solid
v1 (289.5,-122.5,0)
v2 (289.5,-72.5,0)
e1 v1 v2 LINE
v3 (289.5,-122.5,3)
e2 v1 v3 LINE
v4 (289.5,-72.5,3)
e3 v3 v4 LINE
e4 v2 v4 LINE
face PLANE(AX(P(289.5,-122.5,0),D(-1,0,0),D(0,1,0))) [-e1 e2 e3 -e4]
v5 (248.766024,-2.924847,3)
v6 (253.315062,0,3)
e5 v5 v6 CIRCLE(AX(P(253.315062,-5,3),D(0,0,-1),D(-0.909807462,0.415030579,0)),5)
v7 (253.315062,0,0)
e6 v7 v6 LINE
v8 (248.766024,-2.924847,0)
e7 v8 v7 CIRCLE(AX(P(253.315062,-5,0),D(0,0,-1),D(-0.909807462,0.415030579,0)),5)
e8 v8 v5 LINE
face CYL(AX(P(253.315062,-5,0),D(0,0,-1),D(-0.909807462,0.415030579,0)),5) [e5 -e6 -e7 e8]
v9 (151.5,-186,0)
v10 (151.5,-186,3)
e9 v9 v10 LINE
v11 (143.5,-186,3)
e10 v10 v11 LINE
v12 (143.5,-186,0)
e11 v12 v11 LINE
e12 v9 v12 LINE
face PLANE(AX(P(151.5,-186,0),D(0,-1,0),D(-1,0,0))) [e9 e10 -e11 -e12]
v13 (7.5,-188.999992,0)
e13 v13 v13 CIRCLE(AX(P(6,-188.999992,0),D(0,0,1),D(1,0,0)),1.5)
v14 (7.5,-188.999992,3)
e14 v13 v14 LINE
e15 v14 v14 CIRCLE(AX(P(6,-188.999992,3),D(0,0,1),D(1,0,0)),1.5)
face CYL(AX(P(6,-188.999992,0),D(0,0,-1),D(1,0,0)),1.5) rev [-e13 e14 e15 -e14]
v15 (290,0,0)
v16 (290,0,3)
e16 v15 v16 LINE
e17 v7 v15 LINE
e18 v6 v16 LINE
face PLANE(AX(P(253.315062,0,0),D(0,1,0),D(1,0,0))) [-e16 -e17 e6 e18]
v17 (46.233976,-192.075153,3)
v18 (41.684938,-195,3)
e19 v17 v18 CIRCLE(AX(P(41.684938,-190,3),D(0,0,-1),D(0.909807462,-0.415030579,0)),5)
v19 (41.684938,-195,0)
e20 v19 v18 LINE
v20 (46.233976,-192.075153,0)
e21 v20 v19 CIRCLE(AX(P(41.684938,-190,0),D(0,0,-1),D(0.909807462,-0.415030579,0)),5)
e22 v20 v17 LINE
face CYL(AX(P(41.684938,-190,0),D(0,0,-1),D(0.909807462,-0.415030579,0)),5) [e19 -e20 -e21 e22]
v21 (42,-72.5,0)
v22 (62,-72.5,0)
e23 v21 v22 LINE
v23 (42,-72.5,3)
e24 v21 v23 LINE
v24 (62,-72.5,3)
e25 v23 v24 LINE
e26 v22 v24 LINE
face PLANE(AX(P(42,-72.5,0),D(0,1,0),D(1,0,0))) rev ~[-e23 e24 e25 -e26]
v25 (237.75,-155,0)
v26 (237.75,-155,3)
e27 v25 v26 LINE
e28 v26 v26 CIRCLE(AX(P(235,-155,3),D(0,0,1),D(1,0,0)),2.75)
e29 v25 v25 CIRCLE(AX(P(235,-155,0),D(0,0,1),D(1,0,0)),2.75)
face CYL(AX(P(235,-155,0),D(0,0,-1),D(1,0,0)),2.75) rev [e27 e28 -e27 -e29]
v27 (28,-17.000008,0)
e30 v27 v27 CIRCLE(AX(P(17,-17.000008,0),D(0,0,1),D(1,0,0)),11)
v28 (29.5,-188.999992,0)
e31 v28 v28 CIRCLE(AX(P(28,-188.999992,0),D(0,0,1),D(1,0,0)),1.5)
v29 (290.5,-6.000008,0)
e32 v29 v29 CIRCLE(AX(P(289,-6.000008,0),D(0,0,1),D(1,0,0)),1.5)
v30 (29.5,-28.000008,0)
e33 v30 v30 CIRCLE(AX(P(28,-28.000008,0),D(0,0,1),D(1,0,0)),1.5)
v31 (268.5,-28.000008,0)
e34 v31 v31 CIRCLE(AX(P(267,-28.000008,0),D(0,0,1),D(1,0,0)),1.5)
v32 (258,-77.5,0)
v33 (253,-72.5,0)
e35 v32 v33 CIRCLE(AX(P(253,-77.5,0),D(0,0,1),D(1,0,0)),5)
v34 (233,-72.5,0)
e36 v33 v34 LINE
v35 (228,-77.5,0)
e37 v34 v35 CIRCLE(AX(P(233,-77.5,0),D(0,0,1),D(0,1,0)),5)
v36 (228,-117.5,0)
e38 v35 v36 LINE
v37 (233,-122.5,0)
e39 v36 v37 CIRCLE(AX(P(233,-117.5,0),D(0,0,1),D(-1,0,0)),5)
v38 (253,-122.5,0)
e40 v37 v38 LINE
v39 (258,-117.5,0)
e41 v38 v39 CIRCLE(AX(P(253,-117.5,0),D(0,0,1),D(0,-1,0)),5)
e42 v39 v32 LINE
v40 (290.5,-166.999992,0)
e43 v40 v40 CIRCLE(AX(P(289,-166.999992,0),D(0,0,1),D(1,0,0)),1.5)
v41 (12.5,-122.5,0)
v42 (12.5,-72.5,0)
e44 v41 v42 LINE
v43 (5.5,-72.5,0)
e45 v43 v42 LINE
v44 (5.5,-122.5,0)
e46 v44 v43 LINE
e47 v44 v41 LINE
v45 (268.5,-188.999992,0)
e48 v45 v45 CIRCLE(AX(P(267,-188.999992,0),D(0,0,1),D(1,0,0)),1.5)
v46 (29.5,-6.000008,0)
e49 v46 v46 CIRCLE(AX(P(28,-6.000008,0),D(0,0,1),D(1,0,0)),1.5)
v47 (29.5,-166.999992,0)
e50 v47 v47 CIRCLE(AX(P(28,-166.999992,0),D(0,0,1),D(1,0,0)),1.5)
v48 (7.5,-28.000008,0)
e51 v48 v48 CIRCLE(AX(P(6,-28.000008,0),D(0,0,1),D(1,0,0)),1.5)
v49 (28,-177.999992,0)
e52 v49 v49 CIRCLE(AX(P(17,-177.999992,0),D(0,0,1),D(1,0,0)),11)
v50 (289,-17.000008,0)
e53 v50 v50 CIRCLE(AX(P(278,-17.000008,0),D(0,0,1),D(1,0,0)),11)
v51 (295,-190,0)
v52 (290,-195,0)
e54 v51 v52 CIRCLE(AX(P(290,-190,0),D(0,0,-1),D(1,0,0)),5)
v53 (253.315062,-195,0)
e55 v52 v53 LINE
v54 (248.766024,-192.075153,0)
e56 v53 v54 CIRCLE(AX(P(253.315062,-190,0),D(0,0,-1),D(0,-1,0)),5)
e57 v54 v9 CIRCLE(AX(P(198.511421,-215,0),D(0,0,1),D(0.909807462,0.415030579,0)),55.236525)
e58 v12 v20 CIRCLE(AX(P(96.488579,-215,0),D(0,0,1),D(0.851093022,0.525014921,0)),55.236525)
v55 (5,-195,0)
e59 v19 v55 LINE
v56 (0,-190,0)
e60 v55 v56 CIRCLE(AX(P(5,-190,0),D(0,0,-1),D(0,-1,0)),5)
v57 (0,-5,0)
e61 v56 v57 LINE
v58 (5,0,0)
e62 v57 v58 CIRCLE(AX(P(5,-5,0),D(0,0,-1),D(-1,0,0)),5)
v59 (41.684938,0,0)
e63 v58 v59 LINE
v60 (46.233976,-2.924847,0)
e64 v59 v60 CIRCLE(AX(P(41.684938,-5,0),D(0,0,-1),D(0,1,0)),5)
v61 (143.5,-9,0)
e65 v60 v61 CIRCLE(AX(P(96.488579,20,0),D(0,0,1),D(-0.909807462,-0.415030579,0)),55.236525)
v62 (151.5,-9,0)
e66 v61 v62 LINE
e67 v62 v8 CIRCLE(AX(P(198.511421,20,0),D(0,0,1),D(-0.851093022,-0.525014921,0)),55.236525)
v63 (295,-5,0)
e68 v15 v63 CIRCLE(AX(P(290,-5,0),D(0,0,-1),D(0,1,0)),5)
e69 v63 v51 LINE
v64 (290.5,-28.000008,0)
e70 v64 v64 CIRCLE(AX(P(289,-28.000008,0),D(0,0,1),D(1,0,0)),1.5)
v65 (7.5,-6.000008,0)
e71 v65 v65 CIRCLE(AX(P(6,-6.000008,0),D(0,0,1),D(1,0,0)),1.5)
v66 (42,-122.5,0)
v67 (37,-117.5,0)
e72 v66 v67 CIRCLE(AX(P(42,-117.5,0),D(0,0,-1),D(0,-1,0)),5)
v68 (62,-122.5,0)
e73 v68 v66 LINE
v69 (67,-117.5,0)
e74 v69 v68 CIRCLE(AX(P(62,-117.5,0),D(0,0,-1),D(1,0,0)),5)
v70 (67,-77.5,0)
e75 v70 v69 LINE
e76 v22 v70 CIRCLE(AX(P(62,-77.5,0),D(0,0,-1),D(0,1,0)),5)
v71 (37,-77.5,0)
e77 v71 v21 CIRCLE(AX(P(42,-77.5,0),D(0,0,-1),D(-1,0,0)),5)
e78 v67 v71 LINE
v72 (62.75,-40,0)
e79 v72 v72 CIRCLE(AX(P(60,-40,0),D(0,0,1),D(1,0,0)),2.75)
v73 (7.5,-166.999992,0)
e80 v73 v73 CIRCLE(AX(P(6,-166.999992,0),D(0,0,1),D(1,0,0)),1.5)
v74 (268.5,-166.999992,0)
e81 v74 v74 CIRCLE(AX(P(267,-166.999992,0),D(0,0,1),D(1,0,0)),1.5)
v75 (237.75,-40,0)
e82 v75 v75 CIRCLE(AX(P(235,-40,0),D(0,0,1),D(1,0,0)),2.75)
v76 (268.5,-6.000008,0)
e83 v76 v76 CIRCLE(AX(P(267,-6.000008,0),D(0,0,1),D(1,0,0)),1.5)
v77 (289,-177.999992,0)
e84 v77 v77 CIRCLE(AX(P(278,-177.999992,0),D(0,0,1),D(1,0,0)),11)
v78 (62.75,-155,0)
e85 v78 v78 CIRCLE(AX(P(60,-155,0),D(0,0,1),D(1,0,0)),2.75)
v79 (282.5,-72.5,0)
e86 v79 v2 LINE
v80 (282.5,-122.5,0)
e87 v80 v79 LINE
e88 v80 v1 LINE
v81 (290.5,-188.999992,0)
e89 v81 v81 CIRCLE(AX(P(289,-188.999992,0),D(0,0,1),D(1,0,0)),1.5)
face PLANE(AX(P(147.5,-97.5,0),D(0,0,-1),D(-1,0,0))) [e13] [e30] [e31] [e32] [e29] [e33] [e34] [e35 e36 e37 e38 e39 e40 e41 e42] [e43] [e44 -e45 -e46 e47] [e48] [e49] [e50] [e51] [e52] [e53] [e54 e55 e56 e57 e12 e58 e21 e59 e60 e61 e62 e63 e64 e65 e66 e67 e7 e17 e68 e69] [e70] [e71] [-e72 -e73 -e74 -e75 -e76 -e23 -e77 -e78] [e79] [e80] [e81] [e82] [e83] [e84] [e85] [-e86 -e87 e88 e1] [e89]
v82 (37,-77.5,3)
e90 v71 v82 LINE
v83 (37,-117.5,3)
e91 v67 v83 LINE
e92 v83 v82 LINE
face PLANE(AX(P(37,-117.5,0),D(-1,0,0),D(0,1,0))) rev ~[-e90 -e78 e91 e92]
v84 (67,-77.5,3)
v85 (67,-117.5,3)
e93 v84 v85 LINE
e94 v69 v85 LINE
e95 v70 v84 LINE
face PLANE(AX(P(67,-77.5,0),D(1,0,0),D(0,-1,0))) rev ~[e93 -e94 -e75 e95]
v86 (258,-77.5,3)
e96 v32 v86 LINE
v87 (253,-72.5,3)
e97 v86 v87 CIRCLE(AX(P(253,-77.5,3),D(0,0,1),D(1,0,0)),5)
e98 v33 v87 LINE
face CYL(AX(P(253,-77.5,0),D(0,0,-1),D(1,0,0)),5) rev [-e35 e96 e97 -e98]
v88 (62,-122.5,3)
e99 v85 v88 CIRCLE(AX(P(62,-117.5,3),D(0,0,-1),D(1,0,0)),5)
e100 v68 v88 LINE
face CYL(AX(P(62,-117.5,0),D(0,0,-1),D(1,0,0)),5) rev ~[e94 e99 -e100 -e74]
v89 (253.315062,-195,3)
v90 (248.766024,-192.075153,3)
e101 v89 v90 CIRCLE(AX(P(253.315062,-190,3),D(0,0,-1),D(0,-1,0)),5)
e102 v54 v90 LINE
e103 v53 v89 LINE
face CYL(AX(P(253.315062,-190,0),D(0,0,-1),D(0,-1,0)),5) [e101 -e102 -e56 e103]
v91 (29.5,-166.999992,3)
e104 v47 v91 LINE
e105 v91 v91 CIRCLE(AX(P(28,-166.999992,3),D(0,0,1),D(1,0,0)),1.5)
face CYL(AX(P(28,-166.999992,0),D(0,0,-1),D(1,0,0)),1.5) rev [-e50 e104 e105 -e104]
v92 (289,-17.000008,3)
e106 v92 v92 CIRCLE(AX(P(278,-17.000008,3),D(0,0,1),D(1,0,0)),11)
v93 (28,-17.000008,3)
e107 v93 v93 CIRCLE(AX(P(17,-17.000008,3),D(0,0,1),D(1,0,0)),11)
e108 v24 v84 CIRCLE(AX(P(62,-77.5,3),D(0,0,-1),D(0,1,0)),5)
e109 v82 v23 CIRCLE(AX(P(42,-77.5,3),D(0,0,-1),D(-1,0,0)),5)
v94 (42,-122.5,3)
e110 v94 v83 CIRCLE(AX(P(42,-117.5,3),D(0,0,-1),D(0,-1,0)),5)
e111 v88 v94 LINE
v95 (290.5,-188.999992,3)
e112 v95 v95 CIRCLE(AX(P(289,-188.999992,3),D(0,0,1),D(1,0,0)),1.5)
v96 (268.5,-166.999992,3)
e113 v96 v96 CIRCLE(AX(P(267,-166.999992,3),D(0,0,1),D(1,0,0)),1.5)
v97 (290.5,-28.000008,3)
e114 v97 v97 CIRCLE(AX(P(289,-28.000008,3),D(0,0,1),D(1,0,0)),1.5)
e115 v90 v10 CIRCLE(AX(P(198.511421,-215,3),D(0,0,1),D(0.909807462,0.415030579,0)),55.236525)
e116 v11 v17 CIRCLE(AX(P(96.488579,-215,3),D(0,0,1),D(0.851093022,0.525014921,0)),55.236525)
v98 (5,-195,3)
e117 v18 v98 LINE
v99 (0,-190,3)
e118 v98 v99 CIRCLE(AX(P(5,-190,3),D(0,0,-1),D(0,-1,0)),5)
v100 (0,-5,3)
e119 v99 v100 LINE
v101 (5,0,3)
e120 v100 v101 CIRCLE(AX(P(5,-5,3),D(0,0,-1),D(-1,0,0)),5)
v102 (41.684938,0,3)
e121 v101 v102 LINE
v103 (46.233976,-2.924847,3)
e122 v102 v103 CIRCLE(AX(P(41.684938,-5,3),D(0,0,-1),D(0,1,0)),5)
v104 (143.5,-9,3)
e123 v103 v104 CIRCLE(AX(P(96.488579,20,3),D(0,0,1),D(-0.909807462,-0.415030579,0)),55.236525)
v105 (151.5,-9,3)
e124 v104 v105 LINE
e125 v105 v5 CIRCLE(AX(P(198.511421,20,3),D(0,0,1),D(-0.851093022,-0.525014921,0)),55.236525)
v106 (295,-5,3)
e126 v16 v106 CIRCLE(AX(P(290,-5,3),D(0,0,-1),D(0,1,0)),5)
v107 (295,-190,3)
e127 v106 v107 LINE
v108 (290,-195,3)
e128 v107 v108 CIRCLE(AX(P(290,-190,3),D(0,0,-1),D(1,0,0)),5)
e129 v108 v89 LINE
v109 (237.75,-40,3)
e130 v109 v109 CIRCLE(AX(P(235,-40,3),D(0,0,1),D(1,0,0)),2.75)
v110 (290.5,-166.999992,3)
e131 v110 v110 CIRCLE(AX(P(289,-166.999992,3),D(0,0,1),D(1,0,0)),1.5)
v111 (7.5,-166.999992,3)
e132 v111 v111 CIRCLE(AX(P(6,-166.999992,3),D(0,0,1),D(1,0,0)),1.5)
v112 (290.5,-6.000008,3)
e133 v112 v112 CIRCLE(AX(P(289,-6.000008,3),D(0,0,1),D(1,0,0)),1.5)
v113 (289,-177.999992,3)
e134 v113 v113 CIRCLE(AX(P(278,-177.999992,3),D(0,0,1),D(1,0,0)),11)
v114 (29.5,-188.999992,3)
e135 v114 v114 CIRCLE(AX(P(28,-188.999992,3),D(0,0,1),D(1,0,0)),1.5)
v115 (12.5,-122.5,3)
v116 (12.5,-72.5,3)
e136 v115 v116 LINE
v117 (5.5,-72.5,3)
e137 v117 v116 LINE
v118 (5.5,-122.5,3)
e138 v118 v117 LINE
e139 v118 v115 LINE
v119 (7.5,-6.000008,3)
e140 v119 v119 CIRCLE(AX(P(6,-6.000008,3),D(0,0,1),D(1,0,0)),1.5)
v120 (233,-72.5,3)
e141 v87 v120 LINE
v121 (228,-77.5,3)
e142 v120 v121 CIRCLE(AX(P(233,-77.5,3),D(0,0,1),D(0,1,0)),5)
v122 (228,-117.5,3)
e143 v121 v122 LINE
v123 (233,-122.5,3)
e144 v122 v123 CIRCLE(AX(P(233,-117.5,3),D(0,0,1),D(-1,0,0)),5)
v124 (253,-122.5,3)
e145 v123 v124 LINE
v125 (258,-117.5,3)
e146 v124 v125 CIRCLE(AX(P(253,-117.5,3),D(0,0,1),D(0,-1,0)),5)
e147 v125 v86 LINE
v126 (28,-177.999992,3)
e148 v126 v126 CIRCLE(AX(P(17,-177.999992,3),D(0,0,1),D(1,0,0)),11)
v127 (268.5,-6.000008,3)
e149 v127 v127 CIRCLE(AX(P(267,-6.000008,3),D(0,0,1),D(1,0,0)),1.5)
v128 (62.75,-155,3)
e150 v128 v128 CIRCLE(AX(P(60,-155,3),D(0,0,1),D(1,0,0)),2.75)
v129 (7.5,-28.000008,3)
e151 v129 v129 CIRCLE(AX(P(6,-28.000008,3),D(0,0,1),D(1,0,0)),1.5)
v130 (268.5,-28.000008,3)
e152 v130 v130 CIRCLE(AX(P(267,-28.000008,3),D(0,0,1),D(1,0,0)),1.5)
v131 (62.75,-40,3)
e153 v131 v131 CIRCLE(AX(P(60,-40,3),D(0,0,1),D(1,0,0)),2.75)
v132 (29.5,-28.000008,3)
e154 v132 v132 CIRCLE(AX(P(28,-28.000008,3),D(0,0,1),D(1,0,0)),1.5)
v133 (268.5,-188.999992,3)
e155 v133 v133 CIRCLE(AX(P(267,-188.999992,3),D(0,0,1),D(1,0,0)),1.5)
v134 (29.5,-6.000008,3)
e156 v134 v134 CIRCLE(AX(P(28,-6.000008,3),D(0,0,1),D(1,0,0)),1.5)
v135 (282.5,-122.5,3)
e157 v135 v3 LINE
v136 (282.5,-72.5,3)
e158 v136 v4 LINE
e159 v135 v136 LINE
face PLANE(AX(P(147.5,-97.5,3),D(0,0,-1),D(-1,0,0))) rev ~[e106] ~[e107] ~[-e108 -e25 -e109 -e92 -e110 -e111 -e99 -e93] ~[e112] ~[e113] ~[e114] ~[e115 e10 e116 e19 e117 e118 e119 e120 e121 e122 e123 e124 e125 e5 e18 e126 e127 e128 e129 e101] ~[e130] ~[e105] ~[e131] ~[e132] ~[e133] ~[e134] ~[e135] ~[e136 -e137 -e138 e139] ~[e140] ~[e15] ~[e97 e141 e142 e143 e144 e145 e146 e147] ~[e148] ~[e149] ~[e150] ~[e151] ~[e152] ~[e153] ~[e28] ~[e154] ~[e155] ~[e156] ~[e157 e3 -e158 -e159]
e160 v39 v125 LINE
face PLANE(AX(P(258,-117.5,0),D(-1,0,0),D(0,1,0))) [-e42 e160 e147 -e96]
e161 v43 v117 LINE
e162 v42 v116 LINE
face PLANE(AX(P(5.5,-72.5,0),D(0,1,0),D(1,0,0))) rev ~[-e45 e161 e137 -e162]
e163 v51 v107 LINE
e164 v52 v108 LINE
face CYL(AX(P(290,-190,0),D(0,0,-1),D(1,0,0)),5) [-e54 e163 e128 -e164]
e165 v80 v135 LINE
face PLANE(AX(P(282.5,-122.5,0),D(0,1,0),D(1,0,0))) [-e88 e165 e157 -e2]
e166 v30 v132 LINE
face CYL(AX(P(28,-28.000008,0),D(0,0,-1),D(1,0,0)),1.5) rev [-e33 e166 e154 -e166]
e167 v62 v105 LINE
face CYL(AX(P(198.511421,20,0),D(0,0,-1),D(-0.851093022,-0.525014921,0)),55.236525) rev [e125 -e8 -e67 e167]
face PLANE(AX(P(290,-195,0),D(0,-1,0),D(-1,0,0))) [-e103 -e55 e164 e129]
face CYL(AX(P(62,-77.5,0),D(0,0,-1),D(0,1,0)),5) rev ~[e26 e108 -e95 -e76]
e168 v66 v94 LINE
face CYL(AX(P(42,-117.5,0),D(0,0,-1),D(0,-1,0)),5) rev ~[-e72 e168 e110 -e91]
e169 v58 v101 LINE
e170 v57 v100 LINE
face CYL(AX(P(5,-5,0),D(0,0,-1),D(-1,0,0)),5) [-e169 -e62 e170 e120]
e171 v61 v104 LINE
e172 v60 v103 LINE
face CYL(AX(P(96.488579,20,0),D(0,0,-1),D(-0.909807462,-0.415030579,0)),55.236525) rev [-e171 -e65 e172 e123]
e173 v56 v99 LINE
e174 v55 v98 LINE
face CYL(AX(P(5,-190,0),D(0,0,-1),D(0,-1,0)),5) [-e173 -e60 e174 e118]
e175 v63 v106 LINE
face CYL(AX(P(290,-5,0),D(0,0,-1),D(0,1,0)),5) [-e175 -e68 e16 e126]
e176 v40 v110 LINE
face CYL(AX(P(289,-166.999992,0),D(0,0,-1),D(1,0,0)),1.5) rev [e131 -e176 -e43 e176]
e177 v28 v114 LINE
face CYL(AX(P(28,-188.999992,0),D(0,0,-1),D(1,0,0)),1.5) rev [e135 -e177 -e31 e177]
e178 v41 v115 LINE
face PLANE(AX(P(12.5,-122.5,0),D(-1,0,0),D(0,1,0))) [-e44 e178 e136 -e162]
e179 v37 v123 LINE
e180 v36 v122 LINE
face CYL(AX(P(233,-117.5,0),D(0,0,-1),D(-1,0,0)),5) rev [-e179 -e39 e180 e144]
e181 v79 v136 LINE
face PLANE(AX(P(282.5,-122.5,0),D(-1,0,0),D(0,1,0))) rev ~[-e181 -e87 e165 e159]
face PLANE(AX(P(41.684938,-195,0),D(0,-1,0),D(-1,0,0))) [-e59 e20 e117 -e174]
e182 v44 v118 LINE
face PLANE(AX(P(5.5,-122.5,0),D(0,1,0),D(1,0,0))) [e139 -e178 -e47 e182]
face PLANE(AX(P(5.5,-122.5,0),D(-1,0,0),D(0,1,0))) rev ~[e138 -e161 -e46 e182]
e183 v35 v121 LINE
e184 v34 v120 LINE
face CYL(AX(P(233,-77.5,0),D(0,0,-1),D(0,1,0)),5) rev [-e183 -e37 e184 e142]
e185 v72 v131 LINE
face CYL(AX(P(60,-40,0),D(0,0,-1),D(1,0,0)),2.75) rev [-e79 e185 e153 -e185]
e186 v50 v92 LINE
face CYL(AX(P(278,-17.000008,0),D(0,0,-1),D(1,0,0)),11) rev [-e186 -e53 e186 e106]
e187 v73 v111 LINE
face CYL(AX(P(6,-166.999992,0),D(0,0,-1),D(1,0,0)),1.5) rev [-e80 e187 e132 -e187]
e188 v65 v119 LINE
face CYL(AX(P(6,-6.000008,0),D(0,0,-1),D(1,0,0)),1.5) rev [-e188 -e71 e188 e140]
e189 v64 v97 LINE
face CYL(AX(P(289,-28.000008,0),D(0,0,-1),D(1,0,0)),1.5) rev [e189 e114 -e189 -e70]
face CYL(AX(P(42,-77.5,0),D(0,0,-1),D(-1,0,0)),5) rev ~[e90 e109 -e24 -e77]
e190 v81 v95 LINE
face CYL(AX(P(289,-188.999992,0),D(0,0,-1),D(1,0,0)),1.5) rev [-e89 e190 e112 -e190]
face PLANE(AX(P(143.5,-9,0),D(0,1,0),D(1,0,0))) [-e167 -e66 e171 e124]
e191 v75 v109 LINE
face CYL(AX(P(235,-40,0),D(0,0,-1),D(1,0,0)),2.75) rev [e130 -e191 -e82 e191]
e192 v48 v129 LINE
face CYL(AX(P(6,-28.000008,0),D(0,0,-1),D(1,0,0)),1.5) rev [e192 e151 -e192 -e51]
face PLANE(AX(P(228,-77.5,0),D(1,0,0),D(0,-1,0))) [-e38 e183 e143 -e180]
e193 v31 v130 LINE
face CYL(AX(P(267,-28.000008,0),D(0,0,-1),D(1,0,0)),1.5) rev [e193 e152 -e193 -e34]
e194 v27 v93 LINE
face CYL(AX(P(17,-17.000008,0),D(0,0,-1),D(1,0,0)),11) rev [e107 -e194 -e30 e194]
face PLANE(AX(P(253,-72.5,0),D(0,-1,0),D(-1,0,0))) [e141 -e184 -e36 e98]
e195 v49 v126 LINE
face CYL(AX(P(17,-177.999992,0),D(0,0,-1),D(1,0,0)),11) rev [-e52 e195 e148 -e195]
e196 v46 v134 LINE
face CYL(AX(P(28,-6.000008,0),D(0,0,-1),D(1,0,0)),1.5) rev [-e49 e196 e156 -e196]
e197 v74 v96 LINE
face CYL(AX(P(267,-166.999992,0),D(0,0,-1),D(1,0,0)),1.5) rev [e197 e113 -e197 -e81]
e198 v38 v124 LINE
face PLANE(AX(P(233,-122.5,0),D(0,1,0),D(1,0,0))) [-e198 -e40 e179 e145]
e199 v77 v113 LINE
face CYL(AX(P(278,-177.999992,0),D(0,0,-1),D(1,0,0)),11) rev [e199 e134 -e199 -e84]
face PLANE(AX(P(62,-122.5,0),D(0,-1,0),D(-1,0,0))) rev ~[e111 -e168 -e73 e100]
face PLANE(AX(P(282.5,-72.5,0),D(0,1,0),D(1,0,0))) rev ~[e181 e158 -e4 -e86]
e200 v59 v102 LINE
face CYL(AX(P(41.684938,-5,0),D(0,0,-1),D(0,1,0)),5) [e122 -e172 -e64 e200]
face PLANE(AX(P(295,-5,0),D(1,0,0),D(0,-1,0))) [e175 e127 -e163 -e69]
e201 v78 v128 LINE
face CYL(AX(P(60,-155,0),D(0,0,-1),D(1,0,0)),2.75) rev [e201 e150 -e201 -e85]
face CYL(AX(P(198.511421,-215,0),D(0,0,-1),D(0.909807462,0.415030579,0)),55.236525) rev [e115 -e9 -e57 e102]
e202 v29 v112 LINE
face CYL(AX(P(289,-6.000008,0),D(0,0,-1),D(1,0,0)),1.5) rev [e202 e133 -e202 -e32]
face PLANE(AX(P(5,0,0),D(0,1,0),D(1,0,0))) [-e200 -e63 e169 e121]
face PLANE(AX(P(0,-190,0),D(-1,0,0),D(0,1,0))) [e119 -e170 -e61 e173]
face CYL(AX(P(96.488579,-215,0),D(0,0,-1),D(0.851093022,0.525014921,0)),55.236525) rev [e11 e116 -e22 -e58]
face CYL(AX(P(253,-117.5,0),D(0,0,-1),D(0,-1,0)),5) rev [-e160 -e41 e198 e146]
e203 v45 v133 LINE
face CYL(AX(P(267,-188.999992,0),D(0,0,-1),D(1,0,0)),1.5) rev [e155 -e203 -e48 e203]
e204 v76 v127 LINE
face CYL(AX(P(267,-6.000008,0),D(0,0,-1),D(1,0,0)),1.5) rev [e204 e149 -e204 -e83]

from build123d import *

# Parameters (mm, degrees)
ESQUISSE1_R        = 2.75
ESQUISSE1_R_2      = 11
ESQUISSE1_R_3      = 1.5
ESQUISSE1_W        = 7
ESQUISSE1_H        = 50
BOSS_EXTRU_1_DEPTH = 3


with BuildPart() as part:
    # Esquisse1 → Boss.-Extru.1 (new body)
    with BuildSketch(Plane.XY):
        with BuildLine():
            Line((5, 0), (41.684938398, 0))
            ThreePointArc((41.684938398, 0), (44.389031178, -0.794303597), (46.23397571, -2.924847105))
            ThreePointArc((46.23397571, -2.924847105), (93.045262331, -35.129096737), (143.5, -9))
            Line((143.5, -9), (151.5, -9))
            ThreePointArc((151.5, -9), (201.954737669, -35.129096737), (248.76602429, -2.924847105))
            ThreePointArc((248.76602429, -2.924847105), (250.610968822, -0.794303597), (253.315061602, 0))
            Line((253.315061602, 0), (290, 0))
            ThreePointArc((290, 0), (293.535533906, -1.464466094), (295, -5))
            Line((295, -5), (295, -190))
            ThreePointArc((295, -190), (293.535533906, -193.535533906), (290, -195))
            Line((290, -195), (253.315061602, -195))
            ThreePointArc((253.315061602, -195), (250.610968822, -194.205696403), (248.76602429, -192.075152895))
            ThreePointArc((248.76602429, -192.075152895), (201.954737669, -159.870903263), (151.5, -186))
            Line((151.5, -186), (143.5, -186))
            ThreePointArc((143.5, -186), (93.045262331, -159.870903263), (46.23397571, -192.075152895))
            ThreePointArc((46.23397571, -192.075152895), (44.389031178, -194.205696403), (41.684938398, -195))
            Line((41.684938398, -195), (5, -195))
            ThreePointArc((5, -195), (1.464466094, -193.535533906), (0, -190))
            Line((0, -190), (0, -5))
            ThreePointArc((0, -5), (1.464466094, -1.464466094), (5, 0))
        make_face()
        with Locations((60, -40)):
            Circle(ESQUISSE1_R, mode=Mode.SUBTRACT)
        with Locations((17, -17.00000759)):
            Circle(ESQUISSE1_R_2, mode=Mode.SUBTRACT)
        with Locations((6, -6.00000759)):
            Circle(ESQUISSE1_R_3, mode=Mode.SUBTRACT)
        with Locations((28, -6.00000759)):
            Circle(ESQUISSE1_R_3, mode=Mode.SUBTRACT)
        with Locations((28, -28.00000759)):
            Circle(ESQUISSE1_R_3, mode=Mode.SUBTRACT)
        with Locations((6, -28.00000759)):
            Circle(ESQUISSE1_R_3, mode=Mode.SUBTRACT)
        with Locations((235, -40)):
            Circle(ESQUISSE1_R, mode=Mode.SUBTRACT)
        with Locations((289, -6.00000759)):
            Circle(ESQUISSE1_R_3, mode=Mode.SUBTRACT)
        with Locations((267, -6.00000759)):
            Circle(ESQUISSE1_R_3, mode=Mode.SUBTRACT)
        with Locations((278, -17.00000759)):
            Circle(ESQUISSE1_R_2, mode=Mode.SUBTRACT)
        with Locations((289, -28.00000759)):
            Circle(ESQUISSE1_R_3, mode=Mode.SUBTRACT)
        with Locations((267, -28.00000759)):
            Circle(ESQUISSE1_R_3, mode=Mode.SUBTRACT)
        with Locations((267, -188.99999241)):
            Circle(ESQUISSE1_R_3, mode=Mode.SUBTRACT)
        with Locations((289, -188.99999241)):
            Circle(ESQUISSE1_R_3, mode=Mode.SUBTRACT)
        with Locations((289, -166.99999241)):
            Circle(ESQUISSE1_R_3, mode=Mode.SUBTRACT)
        with Locations((267, -166.99999241)):
            Circle(ESQUISSE1_R_3, mode=Mode.SUBTRACT)
        with Locations((278, -177.99999241)):
            Circle(ESQUISSE1_R_2, mode=Mode.SUBTRACT)
        with Locations((235, -155)):
            Circle(ESQUISSE1_R, mode=Mode.SUBTRACT)
        with Locations((60, -155)):
            Circle(ESQUISSE1_R, mode=Mode.SUBTRACT)
        with Locations((6, -188.99999241)):
            Circle(ESQUISSE1_R_3, mode=Mode.SUBTRACT)
        with Locations((28, -188.99999241)):
            Circle(ESQUISSE1_R_3, mode=Mode.SUBTRACT)
        with Locations((17, -177.99999241)):
            Circle(ESQUISSE1_R_2, mode=Mode.SUBTRACT)
        with Locations((6, -166.99999241)):
            Circle(ESQUISSE1_R_3, mode=Mode.SUBTRACT)
        with Locations((28, -166.99999241)):
            Circle(ESQUISSE1_R_3, mode=Mode.SUBTRACT)
        with BuildLine():
            Line((228, -77.5), (228, -117.5))
            ThreePointArc((228, -117.5), (229.464466094, -121.035533906), (233, -122.5))
            Line((233, -122.5), (253, -122.5))
            ThreePointArc((253, -122.5), (256.535533906, -121.035533906), (258, -117.5))
            Line((258, -117.5), (258, -77.5))
            ThreePointArc((258, -77.5), (256.535533906, -73.964466094), (253, -72.5))
            Line((253, -72.5), (233, -72.5))
            ThreePointArc((233, -72.5), (229.464466094, -73.964466094), (228, -77.5))
        make_face(mode=Mode.SUBTRACT)
        with BuildLine():
            Line((42, -72.5), (62, -72.5))
            ThreePointArc((62, -72.5), (65.535533906, -73.964466094), (67, -77.5))
            Line((67, -77.5), (67, -117.5))
            ThreePointArc((67, -117.5), (65.535533906, -121.035533906), (62, -122.5))
            Line((62, -122.5), (42, -122.5))
            ThreePointArc((42, -122.5), (38.464466094, -121.035533906), (37, -117.5))
            Line((37, -117.5), (37, -77.5))
            ThreePointArc((37, -77.5), (38.464466094, -73.964466094), (42, -72.5))
        make_face(mode=Mode.SUBTRACT)
        with Locations((286, -97.5)):
            Rectangle(ESQUISSE1_W, ESQUISSE1_H, mode=Mode.SUBTRACT)
        with Locations((9, -97.5)):
            Rectangle(ESQUISSE1_W, ESQUISSE1_H, mode=Mode.SUBTRACT)
    extrude(amount=BOSS_EXTRU_1_DEPTH)


solid = part.part
